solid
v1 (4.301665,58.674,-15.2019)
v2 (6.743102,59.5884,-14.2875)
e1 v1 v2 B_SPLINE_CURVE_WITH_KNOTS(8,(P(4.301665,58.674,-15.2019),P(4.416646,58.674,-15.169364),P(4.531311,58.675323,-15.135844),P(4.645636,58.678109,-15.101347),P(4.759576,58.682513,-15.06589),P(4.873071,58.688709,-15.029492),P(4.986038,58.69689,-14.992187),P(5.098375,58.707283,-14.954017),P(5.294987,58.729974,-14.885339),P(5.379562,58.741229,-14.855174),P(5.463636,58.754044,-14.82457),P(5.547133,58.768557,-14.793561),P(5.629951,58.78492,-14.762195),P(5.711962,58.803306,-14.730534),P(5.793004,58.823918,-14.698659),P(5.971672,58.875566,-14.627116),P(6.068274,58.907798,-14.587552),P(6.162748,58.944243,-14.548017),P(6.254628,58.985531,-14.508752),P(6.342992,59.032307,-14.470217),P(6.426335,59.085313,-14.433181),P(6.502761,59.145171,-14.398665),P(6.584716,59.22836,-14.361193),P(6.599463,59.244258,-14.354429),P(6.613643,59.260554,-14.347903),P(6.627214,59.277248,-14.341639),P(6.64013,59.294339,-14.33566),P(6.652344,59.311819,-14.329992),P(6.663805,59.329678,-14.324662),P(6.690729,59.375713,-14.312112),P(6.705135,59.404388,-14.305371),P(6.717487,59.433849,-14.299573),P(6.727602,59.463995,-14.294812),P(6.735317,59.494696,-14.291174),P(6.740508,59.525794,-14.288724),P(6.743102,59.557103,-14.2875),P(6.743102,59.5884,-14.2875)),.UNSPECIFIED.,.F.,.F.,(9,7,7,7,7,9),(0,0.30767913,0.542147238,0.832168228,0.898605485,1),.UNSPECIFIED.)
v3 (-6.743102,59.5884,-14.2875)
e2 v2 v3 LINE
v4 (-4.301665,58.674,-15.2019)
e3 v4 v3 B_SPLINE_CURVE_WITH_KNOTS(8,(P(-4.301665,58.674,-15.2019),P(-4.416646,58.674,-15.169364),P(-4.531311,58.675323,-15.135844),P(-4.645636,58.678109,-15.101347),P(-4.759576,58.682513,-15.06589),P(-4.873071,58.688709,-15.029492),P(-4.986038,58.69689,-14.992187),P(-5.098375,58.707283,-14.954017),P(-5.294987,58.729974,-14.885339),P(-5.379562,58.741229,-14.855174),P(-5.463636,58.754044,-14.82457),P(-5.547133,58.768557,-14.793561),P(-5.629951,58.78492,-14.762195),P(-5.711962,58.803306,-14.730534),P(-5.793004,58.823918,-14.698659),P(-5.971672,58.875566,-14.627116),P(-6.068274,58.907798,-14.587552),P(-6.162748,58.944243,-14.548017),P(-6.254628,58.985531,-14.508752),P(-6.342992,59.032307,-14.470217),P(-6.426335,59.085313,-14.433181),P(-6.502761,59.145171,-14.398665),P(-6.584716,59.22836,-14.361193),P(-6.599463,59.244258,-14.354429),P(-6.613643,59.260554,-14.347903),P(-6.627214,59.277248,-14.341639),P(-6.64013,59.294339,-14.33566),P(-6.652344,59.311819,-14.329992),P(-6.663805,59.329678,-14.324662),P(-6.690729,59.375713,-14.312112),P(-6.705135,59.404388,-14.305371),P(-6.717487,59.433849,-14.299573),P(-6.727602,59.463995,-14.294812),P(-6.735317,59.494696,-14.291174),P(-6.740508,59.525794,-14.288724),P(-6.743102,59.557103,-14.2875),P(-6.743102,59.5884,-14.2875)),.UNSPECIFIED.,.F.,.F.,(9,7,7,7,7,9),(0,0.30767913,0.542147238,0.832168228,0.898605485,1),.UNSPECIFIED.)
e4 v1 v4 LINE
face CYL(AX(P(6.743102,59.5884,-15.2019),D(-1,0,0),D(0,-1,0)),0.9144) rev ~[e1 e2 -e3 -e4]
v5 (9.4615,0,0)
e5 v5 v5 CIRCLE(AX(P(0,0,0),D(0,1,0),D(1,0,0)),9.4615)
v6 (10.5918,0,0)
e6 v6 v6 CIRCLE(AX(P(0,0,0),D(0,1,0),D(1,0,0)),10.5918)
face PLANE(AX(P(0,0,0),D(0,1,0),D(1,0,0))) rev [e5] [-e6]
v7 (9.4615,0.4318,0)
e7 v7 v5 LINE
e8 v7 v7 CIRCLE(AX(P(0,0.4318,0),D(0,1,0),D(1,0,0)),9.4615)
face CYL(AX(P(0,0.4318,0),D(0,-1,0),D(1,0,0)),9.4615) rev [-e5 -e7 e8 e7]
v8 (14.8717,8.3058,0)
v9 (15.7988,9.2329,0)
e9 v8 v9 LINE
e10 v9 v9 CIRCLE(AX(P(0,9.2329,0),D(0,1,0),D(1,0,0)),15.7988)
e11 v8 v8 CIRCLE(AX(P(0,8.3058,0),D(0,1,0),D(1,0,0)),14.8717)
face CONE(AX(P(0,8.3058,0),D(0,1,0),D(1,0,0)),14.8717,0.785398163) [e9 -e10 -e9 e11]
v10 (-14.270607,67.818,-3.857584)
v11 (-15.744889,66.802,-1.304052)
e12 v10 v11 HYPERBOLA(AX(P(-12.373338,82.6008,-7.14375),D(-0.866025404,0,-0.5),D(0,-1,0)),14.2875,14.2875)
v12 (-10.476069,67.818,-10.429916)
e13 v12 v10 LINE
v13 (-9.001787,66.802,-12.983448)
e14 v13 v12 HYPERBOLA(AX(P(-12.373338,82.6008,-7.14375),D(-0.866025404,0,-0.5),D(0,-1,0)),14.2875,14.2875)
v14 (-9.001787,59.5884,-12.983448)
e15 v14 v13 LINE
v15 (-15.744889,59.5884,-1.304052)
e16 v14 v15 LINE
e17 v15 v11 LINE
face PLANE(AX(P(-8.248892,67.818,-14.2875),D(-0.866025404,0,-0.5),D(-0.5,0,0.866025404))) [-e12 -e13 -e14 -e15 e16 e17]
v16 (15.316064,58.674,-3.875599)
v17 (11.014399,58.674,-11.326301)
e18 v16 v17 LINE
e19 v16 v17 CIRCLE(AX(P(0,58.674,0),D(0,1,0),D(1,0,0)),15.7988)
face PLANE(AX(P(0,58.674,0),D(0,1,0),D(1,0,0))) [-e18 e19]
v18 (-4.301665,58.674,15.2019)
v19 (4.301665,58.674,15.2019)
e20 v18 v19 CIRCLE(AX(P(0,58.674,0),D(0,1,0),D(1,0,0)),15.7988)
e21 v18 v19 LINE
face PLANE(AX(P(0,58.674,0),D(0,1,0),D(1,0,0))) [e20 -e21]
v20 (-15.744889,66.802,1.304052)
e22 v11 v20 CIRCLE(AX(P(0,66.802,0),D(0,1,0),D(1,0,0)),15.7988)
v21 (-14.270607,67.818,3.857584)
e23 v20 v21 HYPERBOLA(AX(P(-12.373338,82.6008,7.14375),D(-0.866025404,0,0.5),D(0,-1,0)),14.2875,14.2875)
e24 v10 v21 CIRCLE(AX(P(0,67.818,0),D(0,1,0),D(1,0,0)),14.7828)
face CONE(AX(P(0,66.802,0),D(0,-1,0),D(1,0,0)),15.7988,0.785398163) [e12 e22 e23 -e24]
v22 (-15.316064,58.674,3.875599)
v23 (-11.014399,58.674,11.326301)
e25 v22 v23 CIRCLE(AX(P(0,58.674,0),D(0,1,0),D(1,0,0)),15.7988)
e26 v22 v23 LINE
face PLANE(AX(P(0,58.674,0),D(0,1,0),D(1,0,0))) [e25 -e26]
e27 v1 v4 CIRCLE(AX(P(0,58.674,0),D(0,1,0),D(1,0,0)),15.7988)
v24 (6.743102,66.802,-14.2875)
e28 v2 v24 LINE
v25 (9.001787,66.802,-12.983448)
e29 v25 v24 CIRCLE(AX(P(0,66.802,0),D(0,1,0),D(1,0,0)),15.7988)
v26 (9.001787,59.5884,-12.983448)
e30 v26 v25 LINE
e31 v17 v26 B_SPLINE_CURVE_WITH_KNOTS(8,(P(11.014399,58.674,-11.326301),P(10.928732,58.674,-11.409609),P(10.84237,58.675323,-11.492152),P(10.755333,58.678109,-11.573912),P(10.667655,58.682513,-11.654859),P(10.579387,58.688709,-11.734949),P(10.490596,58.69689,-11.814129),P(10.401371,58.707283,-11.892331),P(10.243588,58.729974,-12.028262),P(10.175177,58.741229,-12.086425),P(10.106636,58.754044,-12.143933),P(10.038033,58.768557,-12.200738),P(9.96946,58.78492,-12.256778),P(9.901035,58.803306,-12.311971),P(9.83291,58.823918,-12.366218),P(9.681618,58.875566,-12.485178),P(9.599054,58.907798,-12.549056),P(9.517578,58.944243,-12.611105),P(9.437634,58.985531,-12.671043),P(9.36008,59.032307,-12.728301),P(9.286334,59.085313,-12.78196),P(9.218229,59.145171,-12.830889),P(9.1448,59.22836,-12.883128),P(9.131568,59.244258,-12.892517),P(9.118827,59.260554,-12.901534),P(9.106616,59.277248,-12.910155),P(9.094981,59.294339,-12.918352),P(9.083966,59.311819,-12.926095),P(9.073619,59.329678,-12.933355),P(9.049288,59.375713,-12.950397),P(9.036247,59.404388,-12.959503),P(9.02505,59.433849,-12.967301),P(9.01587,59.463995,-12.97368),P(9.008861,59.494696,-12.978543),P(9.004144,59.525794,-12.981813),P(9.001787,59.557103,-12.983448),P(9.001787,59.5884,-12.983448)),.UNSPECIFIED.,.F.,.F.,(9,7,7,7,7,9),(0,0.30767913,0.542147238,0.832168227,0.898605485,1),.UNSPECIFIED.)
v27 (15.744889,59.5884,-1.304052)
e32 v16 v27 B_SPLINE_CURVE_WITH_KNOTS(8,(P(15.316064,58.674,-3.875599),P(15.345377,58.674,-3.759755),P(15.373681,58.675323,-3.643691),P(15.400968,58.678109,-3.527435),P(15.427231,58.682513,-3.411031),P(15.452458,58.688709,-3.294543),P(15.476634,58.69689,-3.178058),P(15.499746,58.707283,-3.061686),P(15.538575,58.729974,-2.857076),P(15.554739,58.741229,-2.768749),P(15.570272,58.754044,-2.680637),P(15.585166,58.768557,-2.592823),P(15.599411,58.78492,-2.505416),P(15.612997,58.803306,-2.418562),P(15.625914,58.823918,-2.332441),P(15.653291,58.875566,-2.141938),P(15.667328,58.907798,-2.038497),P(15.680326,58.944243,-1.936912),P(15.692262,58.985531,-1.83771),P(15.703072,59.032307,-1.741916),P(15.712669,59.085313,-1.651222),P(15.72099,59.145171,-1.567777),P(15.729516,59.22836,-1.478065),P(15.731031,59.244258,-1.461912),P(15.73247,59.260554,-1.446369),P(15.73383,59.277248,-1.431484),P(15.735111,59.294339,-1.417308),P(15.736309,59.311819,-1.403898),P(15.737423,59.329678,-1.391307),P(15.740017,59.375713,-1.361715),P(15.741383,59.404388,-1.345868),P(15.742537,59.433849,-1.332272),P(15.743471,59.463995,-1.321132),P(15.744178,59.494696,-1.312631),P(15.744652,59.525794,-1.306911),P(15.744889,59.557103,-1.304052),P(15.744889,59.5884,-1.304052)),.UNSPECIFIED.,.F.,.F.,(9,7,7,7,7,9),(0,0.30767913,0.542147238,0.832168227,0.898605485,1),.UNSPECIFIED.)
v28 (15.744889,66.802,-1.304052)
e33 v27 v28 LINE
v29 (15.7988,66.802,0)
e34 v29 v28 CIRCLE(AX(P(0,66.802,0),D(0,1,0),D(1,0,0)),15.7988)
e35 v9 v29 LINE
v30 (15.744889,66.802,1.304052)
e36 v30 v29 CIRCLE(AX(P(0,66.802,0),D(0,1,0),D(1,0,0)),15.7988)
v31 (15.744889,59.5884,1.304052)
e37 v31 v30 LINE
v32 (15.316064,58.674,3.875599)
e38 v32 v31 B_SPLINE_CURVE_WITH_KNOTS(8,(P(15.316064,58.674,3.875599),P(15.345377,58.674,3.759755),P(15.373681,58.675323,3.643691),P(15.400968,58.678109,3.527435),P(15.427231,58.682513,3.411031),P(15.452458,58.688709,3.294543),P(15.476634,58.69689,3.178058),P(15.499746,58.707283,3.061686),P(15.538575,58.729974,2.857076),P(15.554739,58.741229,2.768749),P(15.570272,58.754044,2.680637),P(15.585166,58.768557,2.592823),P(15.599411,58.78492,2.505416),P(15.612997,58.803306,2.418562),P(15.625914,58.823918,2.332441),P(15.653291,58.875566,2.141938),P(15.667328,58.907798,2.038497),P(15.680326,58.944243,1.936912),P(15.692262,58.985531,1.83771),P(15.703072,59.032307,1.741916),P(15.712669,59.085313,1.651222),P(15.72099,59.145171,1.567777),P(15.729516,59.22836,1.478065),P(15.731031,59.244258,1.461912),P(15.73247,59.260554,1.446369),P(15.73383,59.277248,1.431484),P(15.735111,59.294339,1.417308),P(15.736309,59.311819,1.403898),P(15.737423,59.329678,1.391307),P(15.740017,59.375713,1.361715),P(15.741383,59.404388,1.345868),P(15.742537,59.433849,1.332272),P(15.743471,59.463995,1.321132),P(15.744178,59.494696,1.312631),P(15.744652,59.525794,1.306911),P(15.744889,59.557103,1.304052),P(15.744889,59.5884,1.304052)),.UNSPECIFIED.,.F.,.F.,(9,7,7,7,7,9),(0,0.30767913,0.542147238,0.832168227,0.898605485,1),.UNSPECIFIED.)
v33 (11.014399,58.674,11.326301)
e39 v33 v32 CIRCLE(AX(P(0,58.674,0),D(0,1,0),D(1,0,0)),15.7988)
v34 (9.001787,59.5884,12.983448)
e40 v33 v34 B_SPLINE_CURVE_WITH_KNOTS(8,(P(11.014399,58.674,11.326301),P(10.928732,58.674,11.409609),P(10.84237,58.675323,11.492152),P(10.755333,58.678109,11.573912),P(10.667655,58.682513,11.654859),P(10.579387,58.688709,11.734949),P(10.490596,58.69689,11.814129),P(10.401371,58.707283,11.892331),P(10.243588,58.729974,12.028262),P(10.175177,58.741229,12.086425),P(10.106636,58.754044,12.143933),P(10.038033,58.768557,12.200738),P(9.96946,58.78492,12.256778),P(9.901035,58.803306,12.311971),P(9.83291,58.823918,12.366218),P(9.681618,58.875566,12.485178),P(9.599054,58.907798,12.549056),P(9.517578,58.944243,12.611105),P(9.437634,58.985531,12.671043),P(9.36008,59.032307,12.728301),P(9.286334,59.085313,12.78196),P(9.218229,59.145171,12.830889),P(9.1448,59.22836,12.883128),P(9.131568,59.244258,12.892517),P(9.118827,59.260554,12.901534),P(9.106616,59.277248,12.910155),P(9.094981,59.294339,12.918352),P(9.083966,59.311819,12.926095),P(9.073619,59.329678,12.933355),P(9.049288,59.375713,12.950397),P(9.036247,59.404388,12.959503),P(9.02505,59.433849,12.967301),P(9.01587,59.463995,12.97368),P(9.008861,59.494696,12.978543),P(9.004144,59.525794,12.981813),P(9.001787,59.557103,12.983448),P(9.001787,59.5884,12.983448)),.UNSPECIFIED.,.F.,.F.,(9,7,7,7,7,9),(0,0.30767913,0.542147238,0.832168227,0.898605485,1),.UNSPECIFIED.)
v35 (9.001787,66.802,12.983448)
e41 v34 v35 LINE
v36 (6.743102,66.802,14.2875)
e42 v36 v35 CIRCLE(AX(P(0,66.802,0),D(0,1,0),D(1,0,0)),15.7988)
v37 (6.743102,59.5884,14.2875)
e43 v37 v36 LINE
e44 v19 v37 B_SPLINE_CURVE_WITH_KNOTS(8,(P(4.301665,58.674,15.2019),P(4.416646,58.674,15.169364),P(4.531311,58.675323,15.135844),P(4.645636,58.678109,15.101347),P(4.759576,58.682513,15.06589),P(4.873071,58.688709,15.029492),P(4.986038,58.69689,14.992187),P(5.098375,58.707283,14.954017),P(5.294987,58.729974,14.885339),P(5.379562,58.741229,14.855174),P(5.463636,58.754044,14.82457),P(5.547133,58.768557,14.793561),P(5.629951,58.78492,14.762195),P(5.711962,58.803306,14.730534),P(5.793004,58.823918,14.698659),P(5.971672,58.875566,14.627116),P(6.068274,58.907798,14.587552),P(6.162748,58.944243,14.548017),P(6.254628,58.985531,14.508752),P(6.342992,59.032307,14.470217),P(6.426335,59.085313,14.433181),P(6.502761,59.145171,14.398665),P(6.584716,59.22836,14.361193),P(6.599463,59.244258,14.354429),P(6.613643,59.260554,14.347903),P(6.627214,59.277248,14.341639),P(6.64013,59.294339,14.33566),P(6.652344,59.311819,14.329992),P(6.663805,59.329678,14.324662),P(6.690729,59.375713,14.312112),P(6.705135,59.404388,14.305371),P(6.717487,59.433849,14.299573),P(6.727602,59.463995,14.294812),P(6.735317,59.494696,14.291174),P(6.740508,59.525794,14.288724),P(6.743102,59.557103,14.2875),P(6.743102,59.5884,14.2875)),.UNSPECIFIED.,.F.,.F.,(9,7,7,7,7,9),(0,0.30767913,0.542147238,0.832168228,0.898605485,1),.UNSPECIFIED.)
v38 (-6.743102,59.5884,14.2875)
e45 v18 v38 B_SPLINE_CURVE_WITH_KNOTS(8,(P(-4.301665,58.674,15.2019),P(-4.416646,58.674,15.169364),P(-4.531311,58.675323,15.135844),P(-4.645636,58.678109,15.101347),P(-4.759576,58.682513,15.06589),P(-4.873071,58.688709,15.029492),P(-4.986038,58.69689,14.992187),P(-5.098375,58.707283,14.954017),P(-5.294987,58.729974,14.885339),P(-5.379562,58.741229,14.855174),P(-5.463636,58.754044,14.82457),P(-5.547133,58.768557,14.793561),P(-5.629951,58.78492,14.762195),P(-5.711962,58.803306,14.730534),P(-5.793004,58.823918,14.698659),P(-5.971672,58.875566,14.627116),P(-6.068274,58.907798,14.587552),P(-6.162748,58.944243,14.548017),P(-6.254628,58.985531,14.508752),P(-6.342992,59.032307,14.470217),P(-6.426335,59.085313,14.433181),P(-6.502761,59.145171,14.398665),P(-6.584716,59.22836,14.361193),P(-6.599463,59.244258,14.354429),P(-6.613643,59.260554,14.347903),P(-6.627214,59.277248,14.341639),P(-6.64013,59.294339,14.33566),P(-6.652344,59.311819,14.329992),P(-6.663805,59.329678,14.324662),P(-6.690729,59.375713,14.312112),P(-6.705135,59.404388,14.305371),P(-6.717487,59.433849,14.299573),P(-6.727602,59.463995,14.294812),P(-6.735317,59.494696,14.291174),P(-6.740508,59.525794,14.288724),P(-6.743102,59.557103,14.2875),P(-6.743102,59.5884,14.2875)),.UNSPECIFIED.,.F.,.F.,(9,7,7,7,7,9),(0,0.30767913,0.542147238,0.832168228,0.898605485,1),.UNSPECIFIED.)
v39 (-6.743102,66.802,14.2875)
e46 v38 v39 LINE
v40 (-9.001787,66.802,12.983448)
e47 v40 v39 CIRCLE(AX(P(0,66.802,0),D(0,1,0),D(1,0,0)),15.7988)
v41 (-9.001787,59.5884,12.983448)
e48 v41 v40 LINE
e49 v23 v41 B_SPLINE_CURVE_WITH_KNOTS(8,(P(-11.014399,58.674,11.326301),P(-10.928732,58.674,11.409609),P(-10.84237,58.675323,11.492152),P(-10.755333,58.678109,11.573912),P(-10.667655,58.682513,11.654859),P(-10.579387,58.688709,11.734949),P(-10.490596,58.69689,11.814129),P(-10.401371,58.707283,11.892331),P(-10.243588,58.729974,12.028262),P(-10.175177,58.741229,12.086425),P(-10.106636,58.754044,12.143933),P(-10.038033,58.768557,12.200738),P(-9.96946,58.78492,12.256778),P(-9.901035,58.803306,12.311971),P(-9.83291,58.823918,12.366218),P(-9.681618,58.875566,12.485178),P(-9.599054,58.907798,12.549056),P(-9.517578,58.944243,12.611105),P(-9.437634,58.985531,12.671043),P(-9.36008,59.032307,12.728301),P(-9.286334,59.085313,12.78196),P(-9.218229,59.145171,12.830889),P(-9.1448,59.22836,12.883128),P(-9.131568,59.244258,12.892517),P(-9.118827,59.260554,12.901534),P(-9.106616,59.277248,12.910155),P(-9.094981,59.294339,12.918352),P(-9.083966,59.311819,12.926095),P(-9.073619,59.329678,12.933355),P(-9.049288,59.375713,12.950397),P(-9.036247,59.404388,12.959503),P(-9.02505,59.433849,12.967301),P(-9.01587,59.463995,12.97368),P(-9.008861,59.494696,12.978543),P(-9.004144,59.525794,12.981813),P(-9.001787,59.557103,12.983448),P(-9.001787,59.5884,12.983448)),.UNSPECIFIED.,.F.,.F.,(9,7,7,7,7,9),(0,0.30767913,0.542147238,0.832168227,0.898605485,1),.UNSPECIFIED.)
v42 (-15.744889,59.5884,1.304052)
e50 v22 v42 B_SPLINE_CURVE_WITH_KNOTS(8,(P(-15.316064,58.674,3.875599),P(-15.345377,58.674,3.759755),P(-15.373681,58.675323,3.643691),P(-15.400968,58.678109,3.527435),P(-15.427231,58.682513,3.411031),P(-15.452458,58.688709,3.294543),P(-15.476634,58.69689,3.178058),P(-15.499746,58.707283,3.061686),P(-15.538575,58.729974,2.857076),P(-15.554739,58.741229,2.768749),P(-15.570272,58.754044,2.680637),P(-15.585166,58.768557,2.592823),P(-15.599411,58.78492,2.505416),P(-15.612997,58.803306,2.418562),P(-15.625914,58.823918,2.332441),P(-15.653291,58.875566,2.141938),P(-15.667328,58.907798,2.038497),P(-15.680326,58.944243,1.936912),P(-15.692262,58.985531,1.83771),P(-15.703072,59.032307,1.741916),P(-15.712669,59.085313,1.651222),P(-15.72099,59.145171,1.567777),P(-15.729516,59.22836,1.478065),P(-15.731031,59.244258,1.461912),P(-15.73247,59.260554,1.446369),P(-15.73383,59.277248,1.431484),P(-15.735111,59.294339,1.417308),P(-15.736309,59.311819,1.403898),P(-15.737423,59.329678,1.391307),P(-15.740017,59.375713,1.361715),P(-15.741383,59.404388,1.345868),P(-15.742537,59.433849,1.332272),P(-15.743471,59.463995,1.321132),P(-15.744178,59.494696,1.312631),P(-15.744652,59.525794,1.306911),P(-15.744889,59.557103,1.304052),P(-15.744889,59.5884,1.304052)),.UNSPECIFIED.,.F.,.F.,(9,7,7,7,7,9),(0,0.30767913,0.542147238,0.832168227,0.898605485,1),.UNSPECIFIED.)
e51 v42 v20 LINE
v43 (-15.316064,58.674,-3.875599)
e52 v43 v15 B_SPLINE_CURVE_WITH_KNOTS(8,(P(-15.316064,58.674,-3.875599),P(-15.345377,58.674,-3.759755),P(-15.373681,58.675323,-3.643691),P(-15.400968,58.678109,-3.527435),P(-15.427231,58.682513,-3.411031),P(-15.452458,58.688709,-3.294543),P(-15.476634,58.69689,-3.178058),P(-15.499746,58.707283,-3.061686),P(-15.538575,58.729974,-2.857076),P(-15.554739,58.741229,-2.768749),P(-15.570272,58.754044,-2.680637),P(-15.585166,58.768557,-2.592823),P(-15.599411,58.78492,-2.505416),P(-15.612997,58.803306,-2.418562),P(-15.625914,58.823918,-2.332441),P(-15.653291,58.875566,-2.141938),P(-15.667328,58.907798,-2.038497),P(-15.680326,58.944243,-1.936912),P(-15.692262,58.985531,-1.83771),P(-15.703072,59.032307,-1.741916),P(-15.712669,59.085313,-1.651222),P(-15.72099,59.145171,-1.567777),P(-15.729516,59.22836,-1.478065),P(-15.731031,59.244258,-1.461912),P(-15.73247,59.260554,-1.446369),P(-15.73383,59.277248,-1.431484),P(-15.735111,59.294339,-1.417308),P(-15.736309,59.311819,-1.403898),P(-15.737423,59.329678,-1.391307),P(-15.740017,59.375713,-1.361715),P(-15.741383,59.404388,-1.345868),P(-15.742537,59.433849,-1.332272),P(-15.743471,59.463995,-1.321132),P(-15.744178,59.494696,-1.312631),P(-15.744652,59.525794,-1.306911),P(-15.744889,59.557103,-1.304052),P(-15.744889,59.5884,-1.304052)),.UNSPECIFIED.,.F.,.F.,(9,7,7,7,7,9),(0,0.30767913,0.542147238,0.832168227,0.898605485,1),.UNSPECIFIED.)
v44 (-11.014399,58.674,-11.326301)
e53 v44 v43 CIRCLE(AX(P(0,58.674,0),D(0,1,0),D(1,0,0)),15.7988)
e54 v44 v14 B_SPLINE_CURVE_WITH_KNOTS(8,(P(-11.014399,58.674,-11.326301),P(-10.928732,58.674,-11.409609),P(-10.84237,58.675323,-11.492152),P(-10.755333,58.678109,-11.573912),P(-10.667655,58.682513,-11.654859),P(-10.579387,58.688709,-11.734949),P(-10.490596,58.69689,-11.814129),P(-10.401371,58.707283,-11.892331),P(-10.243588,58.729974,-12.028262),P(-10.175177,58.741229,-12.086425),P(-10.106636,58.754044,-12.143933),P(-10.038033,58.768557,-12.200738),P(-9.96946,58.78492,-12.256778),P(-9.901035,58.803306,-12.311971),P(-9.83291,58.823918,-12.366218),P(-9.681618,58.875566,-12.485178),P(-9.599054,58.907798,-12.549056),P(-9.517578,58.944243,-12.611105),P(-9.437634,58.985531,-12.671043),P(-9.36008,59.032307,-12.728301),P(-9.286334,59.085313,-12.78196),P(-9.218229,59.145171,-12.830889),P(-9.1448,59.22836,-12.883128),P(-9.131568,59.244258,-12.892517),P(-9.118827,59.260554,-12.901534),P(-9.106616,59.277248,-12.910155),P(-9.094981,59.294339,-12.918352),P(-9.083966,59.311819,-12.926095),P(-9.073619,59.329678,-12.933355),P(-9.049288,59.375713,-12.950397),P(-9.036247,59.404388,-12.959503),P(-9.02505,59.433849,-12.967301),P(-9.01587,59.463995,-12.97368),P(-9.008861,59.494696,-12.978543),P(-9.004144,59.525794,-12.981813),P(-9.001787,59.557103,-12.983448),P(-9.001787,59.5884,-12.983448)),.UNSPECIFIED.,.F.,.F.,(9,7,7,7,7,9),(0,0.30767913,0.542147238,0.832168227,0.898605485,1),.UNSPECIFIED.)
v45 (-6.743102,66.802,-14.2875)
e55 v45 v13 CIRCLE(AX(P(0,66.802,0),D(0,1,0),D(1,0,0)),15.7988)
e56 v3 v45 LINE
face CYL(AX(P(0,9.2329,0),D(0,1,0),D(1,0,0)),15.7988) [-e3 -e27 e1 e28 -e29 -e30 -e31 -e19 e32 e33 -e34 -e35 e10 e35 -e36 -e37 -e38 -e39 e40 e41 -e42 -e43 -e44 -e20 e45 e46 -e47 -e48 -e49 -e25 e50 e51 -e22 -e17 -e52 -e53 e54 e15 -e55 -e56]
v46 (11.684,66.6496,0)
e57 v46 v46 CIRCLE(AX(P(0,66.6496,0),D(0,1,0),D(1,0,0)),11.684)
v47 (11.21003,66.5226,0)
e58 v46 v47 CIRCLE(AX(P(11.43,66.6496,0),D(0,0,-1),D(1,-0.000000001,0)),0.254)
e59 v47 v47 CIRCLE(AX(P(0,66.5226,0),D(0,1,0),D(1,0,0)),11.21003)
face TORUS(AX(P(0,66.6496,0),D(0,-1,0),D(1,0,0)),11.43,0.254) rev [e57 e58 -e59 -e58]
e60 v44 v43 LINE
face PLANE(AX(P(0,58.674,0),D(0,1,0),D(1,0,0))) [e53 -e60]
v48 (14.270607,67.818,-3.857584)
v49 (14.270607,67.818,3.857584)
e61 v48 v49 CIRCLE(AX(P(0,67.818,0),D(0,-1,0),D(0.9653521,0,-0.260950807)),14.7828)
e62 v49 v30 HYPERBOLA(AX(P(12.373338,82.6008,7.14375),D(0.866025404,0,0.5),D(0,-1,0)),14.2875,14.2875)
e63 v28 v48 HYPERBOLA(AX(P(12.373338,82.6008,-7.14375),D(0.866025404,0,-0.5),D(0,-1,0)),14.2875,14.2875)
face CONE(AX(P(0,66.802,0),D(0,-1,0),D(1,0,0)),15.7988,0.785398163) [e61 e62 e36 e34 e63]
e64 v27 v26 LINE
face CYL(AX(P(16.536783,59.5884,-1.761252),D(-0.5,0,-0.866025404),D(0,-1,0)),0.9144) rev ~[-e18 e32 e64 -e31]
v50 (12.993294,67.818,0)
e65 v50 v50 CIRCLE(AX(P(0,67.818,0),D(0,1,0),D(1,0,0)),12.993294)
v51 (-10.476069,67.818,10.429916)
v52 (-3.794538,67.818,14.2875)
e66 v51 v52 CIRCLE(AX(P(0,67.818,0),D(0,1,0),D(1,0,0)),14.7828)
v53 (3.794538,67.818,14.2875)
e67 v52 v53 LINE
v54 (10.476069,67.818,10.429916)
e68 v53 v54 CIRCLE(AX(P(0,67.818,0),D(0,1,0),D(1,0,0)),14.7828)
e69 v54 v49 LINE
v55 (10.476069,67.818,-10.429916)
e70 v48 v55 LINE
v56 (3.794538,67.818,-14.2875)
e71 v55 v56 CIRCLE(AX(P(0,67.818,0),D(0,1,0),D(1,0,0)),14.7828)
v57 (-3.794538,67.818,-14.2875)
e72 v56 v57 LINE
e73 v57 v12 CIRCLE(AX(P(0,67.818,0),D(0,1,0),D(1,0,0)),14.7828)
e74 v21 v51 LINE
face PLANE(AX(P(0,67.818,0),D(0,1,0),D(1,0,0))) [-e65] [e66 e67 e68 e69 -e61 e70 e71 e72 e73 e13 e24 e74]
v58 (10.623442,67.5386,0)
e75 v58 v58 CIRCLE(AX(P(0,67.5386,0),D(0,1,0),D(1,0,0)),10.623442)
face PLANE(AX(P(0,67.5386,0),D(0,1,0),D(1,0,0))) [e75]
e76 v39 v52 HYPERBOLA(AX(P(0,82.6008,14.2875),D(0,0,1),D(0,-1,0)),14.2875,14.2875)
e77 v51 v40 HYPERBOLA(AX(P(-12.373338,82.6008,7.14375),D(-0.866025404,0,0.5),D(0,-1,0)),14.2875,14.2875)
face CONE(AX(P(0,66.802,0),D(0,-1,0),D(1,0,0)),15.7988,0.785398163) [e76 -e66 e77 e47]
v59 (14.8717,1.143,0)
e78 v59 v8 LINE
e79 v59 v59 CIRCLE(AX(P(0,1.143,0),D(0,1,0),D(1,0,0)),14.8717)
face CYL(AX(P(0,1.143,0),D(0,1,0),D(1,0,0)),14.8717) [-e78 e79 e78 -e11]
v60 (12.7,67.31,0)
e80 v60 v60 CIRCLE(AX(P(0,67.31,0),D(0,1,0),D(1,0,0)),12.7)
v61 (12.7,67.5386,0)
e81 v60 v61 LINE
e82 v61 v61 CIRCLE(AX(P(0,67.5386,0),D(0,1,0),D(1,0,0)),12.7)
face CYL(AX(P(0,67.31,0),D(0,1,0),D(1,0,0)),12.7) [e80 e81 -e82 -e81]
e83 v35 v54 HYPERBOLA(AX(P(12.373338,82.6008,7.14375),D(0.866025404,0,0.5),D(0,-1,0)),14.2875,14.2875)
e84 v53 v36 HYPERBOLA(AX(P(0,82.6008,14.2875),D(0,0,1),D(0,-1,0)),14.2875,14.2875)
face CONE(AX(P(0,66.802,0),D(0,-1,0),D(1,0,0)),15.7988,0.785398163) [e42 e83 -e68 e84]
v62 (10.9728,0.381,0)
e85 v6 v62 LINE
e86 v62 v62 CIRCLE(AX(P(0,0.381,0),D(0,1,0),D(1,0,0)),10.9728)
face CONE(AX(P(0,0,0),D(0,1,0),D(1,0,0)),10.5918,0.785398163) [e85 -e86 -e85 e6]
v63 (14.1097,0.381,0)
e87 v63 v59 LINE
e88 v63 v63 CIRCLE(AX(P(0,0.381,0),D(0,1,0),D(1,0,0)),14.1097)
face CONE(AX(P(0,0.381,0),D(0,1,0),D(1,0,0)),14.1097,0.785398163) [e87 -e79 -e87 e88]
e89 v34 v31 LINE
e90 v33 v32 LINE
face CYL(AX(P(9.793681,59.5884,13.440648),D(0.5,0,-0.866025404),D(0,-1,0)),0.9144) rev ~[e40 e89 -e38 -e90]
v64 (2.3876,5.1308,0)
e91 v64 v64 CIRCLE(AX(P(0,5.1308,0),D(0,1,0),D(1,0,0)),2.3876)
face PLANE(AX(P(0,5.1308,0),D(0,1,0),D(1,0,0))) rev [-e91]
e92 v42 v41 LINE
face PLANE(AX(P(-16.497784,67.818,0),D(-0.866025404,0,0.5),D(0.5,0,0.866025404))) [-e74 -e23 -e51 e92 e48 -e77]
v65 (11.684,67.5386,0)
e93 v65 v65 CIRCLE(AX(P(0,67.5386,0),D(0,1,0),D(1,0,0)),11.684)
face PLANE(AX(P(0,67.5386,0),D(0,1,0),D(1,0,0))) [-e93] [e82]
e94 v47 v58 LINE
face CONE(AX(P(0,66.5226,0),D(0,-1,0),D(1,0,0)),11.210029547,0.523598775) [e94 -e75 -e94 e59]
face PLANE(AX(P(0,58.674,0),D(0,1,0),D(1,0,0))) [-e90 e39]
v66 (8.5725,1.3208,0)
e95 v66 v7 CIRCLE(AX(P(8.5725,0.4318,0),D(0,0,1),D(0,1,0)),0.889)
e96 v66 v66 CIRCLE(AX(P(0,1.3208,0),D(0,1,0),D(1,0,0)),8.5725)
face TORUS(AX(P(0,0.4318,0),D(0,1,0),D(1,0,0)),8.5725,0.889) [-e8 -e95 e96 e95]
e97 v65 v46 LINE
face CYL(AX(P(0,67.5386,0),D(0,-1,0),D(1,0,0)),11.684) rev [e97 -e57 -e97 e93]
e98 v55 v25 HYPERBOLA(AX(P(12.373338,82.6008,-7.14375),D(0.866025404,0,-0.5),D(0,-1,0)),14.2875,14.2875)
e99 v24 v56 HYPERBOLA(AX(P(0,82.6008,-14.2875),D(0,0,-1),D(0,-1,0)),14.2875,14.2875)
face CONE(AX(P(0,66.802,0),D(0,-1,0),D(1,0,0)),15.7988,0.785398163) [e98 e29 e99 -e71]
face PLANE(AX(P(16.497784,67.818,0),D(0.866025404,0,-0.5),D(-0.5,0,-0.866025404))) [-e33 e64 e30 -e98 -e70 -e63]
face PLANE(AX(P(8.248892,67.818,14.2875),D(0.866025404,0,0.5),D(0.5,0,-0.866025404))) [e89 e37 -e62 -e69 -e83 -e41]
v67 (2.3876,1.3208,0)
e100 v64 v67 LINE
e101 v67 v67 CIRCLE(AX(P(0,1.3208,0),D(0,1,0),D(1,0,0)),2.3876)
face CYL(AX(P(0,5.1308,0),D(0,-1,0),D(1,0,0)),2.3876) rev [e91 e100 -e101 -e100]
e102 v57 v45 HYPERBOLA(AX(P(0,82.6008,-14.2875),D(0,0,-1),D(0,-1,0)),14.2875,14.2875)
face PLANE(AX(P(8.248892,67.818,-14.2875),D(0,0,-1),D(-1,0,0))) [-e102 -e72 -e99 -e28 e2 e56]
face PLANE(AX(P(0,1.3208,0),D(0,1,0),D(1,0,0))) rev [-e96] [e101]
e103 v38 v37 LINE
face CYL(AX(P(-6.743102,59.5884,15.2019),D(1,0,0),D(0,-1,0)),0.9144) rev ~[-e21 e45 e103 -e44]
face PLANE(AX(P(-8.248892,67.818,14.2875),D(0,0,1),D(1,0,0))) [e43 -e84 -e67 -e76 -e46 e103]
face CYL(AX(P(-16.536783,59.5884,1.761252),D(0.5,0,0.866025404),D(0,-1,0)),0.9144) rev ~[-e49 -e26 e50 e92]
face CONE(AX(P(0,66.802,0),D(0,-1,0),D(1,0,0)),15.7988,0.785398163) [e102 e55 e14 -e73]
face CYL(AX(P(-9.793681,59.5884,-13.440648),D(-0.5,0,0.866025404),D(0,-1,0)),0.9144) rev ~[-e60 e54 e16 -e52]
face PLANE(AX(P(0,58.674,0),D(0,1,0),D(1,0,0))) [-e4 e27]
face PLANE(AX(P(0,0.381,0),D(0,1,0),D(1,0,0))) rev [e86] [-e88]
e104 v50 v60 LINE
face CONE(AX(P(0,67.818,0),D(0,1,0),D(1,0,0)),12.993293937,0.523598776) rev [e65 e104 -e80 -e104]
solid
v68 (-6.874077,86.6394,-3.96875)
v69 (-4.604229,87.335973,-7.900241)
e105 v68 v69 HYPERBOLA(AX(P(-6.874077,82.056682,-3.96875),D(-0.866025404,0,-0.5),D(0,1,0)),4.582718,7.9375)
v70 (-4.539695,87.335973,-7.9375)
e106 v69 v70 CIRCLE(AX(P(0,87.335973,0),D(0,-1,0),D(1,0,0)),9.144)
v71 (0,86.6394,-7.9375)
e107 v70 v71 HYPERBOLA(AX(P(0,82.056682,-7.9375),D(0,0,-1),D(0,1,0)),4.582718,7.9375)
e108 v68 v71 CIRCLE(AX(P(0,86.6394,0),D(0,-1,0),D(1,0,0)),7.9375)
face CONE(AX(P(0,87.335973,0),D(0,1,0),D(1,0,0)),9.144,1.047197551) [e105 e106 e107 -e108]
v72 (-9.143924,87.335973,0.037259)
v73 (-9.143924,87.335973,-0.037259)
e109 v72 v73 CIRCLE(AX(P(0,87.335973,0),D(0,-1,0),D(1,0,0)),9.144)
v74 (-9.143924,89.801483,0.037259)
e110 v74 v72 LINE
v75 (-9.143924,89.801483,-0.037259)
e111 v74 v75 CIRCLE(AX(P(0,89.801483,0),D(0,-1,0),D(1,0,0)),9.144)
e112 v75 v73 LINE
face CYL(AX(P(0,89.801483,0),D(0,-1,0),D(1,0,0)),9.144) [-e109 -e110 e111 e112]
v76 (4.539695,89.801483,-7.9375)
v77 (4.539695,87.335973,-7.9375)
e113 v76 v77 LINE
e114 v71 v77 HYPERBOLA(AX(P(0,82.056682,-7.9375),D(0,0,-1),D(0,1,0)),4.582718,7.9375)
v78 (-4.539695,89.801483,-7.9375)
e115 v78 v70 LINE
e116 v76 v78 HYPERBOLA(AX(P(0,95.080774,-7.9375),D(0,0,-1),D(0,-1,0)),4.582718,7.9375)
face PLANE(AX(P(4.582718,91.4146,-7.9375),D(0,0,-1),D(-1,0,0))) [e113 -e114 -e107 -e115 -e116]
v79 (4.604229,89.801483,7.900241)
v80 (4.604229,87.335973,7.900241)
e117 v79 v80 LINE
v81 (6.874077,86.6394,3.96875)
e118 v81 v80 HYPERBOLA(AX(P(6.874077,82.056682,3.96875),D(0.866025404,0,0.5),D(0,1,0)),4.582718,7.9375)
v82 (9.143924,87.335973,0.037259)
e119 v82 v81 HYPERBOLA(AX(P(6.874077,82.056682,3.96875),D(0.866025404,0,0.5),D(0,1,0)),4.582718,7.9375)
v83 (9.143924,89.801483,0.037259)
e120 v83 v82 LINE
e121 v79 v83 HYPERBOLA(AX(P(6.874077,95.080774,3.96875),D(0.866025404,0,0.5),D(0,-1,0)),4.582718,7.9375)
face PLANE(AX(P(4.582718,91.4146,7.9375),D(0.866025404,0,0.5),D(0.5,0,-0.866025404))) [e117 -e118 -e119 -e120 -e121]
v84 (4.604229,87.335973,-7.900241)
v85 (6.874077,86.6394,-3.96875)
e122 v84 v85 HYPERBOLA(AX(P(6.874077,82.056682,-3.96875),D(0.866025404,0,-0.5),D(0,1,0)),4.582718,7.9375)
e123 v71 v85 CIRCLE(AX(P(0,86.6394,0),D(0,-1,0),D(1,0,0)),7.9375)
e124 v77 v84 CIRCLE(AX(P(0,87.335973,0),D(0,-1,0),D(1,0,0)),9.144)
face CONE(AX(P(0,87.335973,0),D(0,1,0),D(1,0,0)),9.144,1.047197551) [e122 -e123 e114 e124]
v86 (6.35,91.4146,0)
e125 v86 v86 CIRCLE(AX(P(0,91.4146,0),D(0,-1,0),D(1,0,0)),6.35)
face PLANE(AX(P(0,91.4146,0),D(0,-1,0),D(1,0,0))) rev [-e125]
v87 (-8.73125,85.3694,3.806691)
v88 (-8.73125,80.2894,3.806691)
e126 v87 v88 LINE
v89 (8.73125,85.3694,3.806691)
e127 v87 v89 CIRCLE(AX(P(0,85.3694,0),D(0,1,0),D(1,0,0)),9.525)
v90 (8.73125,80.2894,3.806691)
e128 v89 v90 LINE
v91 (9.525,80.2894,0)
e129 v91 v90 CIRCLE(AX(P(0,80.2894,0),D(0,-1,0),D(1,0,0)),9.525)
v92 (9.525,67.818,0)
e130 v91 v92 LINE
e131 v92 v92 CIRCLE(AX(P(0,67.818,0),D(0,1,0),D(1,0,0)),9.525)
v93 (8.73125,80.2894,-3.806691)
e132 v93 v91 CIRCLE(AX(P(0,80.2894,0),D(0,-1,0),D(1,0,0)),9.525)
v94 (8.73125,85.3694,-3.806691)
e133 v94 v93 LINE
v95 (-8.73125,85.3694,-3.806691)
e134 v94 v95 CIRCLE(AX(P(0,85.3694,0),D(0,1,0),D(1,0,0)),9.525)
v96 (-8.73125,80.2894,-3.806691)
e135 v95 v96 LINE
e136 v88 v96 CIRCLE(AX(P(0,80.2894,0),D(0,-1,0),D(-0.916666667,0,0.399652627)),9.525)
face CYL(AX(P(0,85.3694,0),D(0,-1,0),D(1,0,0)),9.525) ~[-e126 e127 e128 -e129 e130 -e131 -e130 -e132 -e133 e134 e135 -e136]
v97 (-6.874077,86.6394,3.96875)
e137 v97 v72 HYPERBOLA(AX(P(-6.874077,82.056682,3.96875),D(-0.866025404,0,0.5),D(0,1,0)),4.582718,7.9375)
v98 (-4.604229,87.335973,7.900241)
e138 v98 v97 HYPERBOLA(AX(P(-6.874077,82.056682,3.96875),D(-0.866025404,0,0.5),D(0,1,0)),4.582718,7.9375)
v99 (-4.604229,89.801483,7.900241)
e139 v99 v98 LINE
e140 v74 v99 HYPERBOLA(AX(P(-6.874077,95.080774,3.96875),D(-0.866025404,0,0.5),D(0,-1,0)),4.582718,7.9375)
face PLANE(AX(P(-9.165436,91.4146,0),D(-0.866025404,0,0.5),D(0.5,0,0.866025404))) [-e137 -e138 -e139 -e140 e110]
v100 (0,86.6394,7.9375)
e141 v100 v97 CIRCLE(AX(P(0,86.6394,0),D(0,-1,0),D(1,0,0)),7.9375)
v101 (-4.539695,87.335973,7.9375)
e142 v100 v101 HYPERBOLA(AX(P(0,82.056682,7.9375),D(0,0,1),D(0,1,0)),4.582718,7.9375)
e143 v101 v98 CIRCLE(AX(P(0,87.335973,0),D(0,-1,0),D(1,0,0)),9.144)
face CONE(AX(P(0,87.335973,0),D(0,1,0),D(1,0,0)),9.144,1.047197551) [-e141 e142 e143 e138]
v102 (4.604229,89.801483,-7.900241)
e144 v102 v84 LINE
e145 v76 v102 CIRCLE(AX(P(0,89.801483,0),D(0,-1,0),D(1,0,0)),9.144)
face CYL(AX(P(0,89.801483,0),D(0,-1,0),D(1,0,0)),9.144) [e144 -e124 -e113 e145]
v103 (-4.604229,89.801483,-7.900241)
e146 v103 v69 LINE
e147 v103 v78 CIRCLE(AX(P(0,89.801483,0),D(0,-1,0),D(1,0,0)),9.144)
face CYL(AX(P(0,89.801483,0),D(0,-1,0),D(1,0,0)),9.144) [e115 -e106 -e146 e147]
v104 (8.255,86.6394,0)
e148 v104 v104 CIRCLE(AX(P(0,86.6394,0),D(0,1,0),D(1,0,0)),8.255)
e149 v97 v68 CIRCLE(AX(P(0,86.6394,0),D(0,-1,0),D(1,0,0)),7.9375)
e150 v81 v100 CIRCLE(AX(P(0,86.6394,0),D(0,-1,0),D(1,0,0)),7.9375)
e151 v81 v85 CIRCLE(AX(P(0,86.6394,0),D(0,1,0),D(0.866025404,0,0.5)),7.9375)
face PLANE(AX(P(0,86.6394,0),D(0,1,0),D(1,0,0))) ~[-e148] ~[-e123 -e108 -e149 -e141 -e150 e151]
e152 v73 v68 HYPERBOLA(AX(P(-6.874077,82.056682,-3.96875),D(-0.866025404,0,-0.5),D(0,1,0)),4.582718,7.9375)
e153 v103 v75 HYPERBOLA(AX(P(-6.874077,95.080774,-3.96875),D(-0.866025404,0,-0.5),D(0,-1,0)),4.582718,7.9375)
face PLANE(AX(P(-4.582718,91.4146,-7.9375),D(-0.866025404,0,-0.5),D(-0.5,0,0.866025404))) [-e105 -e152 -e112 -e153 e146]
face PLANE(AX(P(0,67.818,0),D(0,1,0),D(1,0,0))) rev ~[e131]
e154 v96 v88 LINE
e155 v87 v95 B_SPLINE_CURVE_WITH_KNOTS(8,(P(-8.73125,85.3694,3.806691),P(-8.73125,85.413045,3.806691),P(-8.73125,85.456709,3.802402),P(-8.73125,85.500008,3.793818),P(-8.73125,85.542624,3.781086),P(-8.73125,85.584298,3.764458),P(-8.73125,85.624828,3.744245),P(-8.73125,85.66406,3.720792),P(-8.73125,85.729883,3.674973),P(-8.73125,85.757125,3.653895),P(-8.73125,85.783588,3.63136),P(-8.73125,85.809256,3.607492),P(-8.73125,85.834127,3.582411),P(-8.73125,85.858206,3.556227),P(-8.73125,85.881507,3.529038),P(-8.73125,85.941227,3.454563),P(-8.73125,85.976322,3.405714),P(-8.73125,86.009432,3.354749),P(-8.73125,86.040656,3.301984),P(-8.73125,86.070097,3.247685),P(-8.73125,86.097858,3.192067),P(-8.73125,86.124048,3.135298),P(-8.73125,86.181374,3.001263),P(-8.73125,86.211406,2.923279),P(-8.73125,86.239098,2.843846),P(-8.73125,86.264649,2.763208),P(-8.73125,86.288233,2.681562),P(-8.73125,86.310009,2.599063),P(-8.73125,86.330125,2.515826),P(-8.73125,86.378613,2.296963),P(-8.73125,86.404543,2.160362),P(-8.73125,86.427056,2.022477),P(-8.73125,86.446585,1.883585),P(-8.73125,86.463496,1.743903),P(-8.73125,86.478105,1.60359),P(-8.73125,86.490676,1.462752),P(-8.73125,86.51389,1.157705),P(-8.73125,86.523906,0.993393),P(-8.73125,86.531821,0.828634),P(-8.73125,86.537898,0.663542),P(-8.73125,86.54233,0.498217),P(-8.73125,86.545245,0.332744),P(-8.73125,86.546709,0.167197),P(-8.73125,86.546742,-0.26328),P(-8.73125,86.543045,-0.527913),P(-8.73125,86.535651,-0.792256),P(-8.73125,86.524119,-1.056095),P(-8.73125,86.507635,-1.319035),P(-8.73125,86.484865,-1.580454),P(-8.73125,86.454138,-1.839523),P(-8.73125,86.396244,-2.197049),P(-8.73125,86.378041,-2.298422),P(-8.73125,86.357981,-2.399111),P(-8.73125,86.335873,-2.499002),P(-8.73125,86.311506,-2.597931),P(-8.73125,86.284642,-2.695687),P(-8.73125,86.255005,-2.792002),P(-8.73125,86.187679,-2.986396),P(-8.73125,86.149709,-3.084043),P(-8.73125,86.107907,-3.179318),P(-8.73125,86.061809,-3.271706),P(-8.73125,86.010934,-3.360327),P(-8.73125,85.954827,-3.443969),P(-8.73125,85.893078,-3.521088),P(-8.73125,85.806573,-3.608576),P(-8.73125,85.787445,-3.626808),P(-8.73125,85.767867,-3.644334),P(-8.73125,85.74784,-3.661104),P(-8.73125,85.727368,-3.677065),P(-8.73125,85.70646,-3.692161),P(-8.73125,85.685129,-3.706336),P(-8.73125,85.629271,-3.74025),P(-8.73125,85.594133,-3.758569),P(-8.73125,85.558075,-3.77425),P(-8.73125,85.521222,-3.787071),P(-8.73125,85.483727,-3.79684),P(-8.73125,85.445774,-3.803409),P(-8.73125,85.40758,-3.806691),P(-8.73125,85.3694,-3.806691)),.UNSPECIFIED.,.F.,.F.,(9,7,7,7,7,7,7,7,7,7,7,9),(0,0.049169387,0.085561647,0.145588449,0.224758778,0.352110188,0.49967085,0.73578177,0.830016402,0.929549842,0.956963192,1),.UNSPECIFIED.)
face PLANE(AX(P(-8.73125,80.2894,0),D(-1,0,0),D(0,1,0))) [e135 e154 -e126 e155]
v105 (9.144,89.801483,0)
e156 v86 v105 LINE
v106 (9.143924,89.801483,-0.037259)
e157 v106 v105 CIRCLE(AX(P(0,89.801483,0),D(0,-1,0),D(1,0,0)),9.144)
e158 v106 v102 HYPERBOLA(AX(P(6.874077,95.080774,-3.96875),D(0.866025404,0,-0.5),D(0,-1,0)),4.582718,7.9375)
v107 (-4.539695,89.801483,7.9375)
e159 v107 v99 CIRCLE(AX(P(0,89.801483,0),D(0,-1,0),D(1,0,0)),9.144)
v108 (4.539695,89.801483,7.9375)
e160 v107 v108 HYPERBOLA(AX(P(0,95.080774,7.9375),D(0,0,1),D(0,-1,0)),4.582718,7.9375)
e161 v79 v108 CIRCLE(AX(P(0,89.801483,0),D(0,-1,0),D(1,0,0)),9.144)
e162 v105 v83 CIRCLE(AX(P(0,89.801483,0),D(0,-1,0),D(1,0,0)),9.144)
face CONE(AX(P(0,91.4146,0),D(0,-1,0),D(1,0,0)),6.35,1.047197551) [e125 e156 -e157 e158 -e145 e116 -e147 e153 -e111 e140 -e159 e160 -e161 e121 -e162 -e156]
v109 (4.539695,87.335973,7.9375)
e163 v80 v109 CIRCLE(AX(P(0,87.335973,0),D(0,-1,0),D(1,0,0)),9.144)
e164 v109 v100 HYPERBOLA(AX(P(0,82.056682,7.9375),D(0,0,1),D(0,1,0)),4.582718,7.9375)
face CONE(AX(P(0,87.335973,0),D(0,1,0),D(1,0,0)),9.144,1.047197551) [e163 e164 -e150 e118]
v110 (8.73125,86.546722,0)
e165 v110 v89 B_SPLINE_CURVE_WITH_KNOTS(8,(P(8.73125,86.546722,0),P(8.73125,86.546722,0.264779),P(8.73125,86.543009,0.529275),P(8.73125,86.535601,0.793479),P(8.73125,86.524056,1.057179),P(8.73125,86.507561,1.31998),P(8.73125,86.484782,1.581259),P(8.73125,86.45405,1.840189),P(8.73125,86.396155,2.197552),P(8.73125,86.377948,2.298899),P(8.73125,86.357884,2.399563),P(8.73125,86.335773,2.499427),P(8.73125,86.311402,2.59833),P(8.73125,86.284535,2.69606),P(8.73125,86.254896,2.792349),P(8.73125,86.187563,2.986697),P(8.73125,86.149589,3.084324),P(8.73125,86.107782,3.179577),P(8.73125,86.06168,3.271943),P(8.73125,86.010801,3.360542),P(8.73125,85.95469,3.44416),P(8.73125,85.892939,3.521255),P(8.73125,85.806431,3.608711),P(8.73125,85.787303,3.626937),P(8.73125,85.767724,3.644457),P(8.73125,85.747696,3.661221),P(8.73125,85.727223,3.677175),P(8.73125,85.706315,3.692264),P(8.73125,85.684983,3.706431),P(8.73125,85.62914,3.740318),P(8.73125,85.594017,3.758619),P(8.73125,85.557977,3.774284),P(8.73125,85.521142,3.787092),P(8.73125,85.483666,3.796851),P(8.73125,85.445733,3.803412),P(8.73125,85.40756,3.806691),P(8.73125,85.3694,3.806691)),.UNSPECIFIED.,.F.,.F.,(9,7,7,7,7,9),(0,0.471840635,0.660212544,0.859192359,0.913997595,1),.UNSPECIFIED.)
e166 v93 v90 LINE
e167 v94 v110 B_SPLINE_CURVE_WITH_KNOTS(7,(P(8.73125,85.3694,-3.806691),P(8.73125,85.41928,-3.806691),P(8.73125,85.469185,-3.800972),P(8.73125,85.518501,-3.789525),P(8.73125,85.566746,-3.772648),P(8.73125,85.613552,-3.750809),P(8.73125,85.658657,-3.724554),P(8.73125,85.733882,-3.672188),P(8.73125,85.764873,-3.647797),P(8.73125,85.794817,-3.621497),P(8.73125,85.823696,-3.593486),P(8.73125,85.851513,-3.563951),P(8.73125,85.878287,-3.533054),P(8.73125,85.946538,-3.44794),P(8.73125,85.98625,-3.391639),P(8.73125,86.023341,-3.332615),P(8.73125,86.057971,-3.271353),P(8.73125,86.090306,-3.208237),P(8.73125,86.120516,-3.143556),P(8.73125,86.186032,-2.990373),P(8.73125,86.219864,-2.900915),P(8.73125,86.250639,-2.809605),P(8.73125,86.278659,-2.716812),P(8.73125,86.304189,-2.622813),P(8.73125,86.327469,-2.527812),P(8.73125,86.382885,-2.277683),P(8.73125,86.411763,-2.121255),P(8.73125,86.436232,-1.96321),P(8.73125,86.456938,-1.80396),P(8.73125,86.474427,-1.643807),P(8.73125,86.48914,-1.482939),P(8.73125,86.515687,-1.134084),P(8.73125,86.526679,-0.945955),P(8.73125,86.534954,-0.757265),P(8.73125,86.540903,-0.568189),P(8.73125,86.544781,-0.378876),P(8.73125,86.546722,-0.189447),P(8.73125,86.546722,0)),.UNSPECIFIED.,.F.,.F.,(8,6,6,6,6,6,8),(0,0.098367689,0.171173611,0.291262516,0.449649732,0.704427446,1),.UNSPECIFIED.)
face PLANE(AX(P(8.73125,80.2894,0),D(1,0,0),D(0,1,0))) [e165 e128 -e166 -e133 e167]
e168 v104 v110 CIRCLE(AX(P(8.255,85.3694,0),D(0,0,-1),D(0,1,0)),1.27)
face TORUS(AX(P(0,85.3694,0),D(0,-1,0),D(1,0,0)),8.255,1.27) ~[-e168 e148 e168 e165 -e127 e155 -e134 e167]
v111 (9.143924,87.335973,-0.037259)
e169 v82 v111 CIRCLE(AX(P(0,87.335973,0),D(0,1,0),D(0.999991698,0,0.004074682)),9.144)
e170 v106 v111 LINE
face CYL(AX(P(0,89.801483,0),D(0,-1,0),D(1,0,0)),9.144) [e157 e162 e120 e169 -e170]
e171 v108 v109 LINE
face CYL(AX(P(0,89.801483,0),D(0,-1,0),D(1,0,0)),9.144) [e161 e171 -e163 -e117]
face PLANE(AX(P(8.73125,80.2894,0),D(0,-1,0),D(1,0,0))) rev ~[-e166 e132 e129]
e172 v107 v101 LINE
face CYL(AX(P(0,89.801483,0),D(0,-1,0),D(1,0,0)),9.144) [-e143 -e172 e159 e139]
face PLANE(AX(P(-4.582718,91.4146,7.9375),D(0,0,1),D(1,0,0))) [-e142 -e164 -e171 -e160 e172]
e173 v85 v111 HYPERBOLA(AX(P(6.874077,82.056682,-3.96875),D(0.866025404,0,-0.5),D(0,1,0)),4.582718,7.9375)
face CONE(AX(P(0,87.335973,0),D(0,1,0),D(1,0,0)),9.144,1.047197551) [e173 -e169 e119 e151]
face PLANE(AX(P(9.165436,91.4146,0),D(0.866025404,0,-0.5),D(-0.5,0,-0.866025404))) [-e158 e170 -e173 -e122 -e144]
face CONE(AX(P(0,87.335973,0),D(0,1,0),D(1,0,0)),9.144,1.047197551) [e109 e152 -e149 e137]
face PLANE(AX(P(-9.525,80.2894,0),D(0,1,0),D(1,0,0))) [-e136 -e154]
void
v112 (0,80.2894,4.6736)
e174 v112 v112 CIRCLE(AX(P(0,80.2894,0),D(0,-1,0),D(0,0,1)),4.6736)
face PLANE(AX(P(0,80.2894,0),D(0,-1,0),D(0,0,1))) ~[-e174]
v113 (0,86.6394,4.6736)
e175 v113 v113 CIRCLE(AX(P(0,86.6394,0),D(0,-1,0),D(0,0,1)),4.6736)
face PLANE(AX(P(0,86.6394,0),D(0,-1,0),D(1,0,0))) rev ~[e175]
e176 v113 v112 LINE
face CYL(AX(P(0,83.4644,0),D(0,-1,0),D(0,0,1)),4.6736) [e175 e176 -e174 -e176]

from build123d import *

# Parameters (mm, degrees)
SKETCH2_OUTSIDE_W  = 49.918
SKETCH2_OUTSIDE_H  = 49.918
CUT_EXTRUDE1_DEPTH = 9.144
FILLET1_R          = 0.9144
SKETCH4_W          = 0.79375
SKETCH4_H          = 6.35
CUT_EXTRUDE2_DEPTH = 11.1125
SKETCH5_W          = 4.6736
SKETCH5_H          = 6.35
SKETCH8_OUTSIDE_W  = 54.03
SKETCH8_OUTSIDE_H  = 54.03
CUT_EXTRUDE3_DEPTH = 4.7752


with BuildPart() as part:
    # Sketch1 → Revolve1 (revolve)
    with BuildSketch(Plane.XY):
        with BuildLine():
            Line((9.4615, 0), (10.5918, 0))
            Line((10.5918, 0), (10.9728, 0.381))
            Line((10.9728, 0.381), (14.1097, 0.381))
            Line((14.1097, 0.381), (14.8717, 1.143))
            Line((14.8717, 1.143), (14.8717, 8.3058))
            Line((14.8717, 8.3058), (15.7988, 9.2329))
            Line((15.7988, 9.2329), (15.7988, 66.802))
            Line((15.7988, 66.802), (14.7828, 67.818))
            Line((14.7828, 67.818), (12.993293937, 67.818))
            Line((12.993293937, 67.818), (12.7, 67.31))
            Line((12.7, 67.31), (12.7, 67.5386))
            Line((12.7, 67.5386), (11.684, 67.5386))
            Line((11.684, 67.5386), (11.684, 66.6496))
            ThreePointArc((11.684, 66.6496), (11.495740037, 66.40425484), (11.210029547, 66.5226))
            Line((11.210029547, 66.5226), (10.623441674, 67.5386))
            Line((10.623441674, 67.5386), (0, 67.5386))
            Line((0, 67.5386), (0, 5.1308))
            Line((0, 5.1308), (2.3876, 5.1308))
            Line((2.3876, 5.1308), (2.3876, 1.3208))
            Line((2.3876, 1.3208), (8.5725, 1.3208))
            ThreePointArc((8.5725, 1.3208), (7.943882072, -0.196817928), (9.4615, 0.4318))
            Line((9.4615, 0.4318), (9.4615, 0))
        make_face()
    revolve(axis=Axis((0, 0, 0), (0, 1, 0)))

    # Sketch2 outside → Cut-Extrude1 (cut)
    with BuildSketch(Plane(origin=(0, 67.818, 0), x_dir=(1, 0, 0), z_dir=(0, 1, 0))):
        Rectangle(SKETCH2_OUTSIDE_W, SKETCH2_OUTSIDE_H)
        Polygon((16.497783942, 0), (8.248891971, 14.2875), (-8.248891971, 14.2875), (-16.497783942, 0), (-8.248891971, -14.2875), (8.248891971, -14.2875), align=None, mode=Mode.SUBTRACT)
    extrude(amount=-CUT_EXTRUDE1_DEPTH, mode=Mode.SUBTRACT)

    # Fillet1
    fillet1_edges = [part.edges().sort_by_distance(p)[0] for p in [
        (-12.373337957, 58.674, -7.14375),
        (0, 58.674, -14.2875),
        (12.373337957, 58.674, -7.14375),
        (12.373337957, 58.674, 7.14375),
        (0, 58.674, 14.2875),
        (-12.373337957, 58.674, 7.14375),
    ]]
    fillet(fillet1_edges, radius=FILLET1_R)


with BuildPart() as body_2:
    # Sketch3 → Revolve2 (revolve)
    with BuildSketch(Plane.XY):
        with BuildLine():
            Line((0, 67.818), (0, 86.6394))
            Line((0, 86.6394), (8.255, 86.6394))
            ThreePointArc((8.255, 86.6394), (9.153025612, 86.267425612), (9.525, 85.3694))
            Line((9.525, 85.3694), (9.525, 67.818))
            Line((9.525, 67.818), (0, 67.818))
        make_face()
    revolve(axis=Axis((0, 43.688, 0), (0, 1, 0)))

    # Sketch4 → Cut-Extrude2 (cut, symmetric)
    with BuildSketch(Plane.XY):
        with Locations((-9.128125, 83.4644)):
            Rectangle(SKETCH4_W, SKETCH4_H)
        with Locations((9.128125, 83.4644)):
            Rectangle(SKETCH4_W, SKETCH4_H)
    extrude(amount=CUT_EXTRUDE2_DEPTH, both=True, mode=Mode.SUBTRACT)

    # Sketch5 → 7_16-14 Tapped Hole1 (revolve, cut)
    with BuildSketch(Plane(origin=(0, 86.6394, 0), x_dir=(0, 0, 1), z_dir=(1, 0, 0))):
        with Locations((2.3368, 3.175)):
            Rectangle(SKETCH5_W, SKETCH5_H)
    revolve(axis=Axis((0, 92.9894, 0), (0, -1, 0)), mode=Mode.SUBTRACT)

    # Sketch7 → Revolve3 (revolve)
    with BuildSketch(Plane.XY):
        Polygon((0, 91.4146), (6.35, 91.4146), (9.144, 89.801483348), (9.144, 87.3359731), (7.9375, 86.6394), (0, 86.6394), align=None)
    revolve(axis=Axis((0, 0, 0), (0, -1, 0)))

    # Sketch8 outside → Cut-Extrude3 (cut)
    with BuildSketch(Plane(origin=(0, 91.4146, 0), x_dir=(1, 0, 0), z_dir=(0, 1, 0))):
        Rectangle(SKETCH8_OUTSIDE_W, SKETCH8_OUTSIDE_H)
        Polygon((9.165435523, 0), (4.582717762, 7.9375), (-4.582717762, 7.9375), (-9.165435523, 0), (-4.582717762, -7.9375), (4.582717762, -7.9375), align=None, mode=Mode.SUBTRACT)
    extrude(amount=-CUT_EXTRUDE3_DEPTH, mode=Mode.SUBTRACT)


solid = Compound([part.part, body_2.part])
